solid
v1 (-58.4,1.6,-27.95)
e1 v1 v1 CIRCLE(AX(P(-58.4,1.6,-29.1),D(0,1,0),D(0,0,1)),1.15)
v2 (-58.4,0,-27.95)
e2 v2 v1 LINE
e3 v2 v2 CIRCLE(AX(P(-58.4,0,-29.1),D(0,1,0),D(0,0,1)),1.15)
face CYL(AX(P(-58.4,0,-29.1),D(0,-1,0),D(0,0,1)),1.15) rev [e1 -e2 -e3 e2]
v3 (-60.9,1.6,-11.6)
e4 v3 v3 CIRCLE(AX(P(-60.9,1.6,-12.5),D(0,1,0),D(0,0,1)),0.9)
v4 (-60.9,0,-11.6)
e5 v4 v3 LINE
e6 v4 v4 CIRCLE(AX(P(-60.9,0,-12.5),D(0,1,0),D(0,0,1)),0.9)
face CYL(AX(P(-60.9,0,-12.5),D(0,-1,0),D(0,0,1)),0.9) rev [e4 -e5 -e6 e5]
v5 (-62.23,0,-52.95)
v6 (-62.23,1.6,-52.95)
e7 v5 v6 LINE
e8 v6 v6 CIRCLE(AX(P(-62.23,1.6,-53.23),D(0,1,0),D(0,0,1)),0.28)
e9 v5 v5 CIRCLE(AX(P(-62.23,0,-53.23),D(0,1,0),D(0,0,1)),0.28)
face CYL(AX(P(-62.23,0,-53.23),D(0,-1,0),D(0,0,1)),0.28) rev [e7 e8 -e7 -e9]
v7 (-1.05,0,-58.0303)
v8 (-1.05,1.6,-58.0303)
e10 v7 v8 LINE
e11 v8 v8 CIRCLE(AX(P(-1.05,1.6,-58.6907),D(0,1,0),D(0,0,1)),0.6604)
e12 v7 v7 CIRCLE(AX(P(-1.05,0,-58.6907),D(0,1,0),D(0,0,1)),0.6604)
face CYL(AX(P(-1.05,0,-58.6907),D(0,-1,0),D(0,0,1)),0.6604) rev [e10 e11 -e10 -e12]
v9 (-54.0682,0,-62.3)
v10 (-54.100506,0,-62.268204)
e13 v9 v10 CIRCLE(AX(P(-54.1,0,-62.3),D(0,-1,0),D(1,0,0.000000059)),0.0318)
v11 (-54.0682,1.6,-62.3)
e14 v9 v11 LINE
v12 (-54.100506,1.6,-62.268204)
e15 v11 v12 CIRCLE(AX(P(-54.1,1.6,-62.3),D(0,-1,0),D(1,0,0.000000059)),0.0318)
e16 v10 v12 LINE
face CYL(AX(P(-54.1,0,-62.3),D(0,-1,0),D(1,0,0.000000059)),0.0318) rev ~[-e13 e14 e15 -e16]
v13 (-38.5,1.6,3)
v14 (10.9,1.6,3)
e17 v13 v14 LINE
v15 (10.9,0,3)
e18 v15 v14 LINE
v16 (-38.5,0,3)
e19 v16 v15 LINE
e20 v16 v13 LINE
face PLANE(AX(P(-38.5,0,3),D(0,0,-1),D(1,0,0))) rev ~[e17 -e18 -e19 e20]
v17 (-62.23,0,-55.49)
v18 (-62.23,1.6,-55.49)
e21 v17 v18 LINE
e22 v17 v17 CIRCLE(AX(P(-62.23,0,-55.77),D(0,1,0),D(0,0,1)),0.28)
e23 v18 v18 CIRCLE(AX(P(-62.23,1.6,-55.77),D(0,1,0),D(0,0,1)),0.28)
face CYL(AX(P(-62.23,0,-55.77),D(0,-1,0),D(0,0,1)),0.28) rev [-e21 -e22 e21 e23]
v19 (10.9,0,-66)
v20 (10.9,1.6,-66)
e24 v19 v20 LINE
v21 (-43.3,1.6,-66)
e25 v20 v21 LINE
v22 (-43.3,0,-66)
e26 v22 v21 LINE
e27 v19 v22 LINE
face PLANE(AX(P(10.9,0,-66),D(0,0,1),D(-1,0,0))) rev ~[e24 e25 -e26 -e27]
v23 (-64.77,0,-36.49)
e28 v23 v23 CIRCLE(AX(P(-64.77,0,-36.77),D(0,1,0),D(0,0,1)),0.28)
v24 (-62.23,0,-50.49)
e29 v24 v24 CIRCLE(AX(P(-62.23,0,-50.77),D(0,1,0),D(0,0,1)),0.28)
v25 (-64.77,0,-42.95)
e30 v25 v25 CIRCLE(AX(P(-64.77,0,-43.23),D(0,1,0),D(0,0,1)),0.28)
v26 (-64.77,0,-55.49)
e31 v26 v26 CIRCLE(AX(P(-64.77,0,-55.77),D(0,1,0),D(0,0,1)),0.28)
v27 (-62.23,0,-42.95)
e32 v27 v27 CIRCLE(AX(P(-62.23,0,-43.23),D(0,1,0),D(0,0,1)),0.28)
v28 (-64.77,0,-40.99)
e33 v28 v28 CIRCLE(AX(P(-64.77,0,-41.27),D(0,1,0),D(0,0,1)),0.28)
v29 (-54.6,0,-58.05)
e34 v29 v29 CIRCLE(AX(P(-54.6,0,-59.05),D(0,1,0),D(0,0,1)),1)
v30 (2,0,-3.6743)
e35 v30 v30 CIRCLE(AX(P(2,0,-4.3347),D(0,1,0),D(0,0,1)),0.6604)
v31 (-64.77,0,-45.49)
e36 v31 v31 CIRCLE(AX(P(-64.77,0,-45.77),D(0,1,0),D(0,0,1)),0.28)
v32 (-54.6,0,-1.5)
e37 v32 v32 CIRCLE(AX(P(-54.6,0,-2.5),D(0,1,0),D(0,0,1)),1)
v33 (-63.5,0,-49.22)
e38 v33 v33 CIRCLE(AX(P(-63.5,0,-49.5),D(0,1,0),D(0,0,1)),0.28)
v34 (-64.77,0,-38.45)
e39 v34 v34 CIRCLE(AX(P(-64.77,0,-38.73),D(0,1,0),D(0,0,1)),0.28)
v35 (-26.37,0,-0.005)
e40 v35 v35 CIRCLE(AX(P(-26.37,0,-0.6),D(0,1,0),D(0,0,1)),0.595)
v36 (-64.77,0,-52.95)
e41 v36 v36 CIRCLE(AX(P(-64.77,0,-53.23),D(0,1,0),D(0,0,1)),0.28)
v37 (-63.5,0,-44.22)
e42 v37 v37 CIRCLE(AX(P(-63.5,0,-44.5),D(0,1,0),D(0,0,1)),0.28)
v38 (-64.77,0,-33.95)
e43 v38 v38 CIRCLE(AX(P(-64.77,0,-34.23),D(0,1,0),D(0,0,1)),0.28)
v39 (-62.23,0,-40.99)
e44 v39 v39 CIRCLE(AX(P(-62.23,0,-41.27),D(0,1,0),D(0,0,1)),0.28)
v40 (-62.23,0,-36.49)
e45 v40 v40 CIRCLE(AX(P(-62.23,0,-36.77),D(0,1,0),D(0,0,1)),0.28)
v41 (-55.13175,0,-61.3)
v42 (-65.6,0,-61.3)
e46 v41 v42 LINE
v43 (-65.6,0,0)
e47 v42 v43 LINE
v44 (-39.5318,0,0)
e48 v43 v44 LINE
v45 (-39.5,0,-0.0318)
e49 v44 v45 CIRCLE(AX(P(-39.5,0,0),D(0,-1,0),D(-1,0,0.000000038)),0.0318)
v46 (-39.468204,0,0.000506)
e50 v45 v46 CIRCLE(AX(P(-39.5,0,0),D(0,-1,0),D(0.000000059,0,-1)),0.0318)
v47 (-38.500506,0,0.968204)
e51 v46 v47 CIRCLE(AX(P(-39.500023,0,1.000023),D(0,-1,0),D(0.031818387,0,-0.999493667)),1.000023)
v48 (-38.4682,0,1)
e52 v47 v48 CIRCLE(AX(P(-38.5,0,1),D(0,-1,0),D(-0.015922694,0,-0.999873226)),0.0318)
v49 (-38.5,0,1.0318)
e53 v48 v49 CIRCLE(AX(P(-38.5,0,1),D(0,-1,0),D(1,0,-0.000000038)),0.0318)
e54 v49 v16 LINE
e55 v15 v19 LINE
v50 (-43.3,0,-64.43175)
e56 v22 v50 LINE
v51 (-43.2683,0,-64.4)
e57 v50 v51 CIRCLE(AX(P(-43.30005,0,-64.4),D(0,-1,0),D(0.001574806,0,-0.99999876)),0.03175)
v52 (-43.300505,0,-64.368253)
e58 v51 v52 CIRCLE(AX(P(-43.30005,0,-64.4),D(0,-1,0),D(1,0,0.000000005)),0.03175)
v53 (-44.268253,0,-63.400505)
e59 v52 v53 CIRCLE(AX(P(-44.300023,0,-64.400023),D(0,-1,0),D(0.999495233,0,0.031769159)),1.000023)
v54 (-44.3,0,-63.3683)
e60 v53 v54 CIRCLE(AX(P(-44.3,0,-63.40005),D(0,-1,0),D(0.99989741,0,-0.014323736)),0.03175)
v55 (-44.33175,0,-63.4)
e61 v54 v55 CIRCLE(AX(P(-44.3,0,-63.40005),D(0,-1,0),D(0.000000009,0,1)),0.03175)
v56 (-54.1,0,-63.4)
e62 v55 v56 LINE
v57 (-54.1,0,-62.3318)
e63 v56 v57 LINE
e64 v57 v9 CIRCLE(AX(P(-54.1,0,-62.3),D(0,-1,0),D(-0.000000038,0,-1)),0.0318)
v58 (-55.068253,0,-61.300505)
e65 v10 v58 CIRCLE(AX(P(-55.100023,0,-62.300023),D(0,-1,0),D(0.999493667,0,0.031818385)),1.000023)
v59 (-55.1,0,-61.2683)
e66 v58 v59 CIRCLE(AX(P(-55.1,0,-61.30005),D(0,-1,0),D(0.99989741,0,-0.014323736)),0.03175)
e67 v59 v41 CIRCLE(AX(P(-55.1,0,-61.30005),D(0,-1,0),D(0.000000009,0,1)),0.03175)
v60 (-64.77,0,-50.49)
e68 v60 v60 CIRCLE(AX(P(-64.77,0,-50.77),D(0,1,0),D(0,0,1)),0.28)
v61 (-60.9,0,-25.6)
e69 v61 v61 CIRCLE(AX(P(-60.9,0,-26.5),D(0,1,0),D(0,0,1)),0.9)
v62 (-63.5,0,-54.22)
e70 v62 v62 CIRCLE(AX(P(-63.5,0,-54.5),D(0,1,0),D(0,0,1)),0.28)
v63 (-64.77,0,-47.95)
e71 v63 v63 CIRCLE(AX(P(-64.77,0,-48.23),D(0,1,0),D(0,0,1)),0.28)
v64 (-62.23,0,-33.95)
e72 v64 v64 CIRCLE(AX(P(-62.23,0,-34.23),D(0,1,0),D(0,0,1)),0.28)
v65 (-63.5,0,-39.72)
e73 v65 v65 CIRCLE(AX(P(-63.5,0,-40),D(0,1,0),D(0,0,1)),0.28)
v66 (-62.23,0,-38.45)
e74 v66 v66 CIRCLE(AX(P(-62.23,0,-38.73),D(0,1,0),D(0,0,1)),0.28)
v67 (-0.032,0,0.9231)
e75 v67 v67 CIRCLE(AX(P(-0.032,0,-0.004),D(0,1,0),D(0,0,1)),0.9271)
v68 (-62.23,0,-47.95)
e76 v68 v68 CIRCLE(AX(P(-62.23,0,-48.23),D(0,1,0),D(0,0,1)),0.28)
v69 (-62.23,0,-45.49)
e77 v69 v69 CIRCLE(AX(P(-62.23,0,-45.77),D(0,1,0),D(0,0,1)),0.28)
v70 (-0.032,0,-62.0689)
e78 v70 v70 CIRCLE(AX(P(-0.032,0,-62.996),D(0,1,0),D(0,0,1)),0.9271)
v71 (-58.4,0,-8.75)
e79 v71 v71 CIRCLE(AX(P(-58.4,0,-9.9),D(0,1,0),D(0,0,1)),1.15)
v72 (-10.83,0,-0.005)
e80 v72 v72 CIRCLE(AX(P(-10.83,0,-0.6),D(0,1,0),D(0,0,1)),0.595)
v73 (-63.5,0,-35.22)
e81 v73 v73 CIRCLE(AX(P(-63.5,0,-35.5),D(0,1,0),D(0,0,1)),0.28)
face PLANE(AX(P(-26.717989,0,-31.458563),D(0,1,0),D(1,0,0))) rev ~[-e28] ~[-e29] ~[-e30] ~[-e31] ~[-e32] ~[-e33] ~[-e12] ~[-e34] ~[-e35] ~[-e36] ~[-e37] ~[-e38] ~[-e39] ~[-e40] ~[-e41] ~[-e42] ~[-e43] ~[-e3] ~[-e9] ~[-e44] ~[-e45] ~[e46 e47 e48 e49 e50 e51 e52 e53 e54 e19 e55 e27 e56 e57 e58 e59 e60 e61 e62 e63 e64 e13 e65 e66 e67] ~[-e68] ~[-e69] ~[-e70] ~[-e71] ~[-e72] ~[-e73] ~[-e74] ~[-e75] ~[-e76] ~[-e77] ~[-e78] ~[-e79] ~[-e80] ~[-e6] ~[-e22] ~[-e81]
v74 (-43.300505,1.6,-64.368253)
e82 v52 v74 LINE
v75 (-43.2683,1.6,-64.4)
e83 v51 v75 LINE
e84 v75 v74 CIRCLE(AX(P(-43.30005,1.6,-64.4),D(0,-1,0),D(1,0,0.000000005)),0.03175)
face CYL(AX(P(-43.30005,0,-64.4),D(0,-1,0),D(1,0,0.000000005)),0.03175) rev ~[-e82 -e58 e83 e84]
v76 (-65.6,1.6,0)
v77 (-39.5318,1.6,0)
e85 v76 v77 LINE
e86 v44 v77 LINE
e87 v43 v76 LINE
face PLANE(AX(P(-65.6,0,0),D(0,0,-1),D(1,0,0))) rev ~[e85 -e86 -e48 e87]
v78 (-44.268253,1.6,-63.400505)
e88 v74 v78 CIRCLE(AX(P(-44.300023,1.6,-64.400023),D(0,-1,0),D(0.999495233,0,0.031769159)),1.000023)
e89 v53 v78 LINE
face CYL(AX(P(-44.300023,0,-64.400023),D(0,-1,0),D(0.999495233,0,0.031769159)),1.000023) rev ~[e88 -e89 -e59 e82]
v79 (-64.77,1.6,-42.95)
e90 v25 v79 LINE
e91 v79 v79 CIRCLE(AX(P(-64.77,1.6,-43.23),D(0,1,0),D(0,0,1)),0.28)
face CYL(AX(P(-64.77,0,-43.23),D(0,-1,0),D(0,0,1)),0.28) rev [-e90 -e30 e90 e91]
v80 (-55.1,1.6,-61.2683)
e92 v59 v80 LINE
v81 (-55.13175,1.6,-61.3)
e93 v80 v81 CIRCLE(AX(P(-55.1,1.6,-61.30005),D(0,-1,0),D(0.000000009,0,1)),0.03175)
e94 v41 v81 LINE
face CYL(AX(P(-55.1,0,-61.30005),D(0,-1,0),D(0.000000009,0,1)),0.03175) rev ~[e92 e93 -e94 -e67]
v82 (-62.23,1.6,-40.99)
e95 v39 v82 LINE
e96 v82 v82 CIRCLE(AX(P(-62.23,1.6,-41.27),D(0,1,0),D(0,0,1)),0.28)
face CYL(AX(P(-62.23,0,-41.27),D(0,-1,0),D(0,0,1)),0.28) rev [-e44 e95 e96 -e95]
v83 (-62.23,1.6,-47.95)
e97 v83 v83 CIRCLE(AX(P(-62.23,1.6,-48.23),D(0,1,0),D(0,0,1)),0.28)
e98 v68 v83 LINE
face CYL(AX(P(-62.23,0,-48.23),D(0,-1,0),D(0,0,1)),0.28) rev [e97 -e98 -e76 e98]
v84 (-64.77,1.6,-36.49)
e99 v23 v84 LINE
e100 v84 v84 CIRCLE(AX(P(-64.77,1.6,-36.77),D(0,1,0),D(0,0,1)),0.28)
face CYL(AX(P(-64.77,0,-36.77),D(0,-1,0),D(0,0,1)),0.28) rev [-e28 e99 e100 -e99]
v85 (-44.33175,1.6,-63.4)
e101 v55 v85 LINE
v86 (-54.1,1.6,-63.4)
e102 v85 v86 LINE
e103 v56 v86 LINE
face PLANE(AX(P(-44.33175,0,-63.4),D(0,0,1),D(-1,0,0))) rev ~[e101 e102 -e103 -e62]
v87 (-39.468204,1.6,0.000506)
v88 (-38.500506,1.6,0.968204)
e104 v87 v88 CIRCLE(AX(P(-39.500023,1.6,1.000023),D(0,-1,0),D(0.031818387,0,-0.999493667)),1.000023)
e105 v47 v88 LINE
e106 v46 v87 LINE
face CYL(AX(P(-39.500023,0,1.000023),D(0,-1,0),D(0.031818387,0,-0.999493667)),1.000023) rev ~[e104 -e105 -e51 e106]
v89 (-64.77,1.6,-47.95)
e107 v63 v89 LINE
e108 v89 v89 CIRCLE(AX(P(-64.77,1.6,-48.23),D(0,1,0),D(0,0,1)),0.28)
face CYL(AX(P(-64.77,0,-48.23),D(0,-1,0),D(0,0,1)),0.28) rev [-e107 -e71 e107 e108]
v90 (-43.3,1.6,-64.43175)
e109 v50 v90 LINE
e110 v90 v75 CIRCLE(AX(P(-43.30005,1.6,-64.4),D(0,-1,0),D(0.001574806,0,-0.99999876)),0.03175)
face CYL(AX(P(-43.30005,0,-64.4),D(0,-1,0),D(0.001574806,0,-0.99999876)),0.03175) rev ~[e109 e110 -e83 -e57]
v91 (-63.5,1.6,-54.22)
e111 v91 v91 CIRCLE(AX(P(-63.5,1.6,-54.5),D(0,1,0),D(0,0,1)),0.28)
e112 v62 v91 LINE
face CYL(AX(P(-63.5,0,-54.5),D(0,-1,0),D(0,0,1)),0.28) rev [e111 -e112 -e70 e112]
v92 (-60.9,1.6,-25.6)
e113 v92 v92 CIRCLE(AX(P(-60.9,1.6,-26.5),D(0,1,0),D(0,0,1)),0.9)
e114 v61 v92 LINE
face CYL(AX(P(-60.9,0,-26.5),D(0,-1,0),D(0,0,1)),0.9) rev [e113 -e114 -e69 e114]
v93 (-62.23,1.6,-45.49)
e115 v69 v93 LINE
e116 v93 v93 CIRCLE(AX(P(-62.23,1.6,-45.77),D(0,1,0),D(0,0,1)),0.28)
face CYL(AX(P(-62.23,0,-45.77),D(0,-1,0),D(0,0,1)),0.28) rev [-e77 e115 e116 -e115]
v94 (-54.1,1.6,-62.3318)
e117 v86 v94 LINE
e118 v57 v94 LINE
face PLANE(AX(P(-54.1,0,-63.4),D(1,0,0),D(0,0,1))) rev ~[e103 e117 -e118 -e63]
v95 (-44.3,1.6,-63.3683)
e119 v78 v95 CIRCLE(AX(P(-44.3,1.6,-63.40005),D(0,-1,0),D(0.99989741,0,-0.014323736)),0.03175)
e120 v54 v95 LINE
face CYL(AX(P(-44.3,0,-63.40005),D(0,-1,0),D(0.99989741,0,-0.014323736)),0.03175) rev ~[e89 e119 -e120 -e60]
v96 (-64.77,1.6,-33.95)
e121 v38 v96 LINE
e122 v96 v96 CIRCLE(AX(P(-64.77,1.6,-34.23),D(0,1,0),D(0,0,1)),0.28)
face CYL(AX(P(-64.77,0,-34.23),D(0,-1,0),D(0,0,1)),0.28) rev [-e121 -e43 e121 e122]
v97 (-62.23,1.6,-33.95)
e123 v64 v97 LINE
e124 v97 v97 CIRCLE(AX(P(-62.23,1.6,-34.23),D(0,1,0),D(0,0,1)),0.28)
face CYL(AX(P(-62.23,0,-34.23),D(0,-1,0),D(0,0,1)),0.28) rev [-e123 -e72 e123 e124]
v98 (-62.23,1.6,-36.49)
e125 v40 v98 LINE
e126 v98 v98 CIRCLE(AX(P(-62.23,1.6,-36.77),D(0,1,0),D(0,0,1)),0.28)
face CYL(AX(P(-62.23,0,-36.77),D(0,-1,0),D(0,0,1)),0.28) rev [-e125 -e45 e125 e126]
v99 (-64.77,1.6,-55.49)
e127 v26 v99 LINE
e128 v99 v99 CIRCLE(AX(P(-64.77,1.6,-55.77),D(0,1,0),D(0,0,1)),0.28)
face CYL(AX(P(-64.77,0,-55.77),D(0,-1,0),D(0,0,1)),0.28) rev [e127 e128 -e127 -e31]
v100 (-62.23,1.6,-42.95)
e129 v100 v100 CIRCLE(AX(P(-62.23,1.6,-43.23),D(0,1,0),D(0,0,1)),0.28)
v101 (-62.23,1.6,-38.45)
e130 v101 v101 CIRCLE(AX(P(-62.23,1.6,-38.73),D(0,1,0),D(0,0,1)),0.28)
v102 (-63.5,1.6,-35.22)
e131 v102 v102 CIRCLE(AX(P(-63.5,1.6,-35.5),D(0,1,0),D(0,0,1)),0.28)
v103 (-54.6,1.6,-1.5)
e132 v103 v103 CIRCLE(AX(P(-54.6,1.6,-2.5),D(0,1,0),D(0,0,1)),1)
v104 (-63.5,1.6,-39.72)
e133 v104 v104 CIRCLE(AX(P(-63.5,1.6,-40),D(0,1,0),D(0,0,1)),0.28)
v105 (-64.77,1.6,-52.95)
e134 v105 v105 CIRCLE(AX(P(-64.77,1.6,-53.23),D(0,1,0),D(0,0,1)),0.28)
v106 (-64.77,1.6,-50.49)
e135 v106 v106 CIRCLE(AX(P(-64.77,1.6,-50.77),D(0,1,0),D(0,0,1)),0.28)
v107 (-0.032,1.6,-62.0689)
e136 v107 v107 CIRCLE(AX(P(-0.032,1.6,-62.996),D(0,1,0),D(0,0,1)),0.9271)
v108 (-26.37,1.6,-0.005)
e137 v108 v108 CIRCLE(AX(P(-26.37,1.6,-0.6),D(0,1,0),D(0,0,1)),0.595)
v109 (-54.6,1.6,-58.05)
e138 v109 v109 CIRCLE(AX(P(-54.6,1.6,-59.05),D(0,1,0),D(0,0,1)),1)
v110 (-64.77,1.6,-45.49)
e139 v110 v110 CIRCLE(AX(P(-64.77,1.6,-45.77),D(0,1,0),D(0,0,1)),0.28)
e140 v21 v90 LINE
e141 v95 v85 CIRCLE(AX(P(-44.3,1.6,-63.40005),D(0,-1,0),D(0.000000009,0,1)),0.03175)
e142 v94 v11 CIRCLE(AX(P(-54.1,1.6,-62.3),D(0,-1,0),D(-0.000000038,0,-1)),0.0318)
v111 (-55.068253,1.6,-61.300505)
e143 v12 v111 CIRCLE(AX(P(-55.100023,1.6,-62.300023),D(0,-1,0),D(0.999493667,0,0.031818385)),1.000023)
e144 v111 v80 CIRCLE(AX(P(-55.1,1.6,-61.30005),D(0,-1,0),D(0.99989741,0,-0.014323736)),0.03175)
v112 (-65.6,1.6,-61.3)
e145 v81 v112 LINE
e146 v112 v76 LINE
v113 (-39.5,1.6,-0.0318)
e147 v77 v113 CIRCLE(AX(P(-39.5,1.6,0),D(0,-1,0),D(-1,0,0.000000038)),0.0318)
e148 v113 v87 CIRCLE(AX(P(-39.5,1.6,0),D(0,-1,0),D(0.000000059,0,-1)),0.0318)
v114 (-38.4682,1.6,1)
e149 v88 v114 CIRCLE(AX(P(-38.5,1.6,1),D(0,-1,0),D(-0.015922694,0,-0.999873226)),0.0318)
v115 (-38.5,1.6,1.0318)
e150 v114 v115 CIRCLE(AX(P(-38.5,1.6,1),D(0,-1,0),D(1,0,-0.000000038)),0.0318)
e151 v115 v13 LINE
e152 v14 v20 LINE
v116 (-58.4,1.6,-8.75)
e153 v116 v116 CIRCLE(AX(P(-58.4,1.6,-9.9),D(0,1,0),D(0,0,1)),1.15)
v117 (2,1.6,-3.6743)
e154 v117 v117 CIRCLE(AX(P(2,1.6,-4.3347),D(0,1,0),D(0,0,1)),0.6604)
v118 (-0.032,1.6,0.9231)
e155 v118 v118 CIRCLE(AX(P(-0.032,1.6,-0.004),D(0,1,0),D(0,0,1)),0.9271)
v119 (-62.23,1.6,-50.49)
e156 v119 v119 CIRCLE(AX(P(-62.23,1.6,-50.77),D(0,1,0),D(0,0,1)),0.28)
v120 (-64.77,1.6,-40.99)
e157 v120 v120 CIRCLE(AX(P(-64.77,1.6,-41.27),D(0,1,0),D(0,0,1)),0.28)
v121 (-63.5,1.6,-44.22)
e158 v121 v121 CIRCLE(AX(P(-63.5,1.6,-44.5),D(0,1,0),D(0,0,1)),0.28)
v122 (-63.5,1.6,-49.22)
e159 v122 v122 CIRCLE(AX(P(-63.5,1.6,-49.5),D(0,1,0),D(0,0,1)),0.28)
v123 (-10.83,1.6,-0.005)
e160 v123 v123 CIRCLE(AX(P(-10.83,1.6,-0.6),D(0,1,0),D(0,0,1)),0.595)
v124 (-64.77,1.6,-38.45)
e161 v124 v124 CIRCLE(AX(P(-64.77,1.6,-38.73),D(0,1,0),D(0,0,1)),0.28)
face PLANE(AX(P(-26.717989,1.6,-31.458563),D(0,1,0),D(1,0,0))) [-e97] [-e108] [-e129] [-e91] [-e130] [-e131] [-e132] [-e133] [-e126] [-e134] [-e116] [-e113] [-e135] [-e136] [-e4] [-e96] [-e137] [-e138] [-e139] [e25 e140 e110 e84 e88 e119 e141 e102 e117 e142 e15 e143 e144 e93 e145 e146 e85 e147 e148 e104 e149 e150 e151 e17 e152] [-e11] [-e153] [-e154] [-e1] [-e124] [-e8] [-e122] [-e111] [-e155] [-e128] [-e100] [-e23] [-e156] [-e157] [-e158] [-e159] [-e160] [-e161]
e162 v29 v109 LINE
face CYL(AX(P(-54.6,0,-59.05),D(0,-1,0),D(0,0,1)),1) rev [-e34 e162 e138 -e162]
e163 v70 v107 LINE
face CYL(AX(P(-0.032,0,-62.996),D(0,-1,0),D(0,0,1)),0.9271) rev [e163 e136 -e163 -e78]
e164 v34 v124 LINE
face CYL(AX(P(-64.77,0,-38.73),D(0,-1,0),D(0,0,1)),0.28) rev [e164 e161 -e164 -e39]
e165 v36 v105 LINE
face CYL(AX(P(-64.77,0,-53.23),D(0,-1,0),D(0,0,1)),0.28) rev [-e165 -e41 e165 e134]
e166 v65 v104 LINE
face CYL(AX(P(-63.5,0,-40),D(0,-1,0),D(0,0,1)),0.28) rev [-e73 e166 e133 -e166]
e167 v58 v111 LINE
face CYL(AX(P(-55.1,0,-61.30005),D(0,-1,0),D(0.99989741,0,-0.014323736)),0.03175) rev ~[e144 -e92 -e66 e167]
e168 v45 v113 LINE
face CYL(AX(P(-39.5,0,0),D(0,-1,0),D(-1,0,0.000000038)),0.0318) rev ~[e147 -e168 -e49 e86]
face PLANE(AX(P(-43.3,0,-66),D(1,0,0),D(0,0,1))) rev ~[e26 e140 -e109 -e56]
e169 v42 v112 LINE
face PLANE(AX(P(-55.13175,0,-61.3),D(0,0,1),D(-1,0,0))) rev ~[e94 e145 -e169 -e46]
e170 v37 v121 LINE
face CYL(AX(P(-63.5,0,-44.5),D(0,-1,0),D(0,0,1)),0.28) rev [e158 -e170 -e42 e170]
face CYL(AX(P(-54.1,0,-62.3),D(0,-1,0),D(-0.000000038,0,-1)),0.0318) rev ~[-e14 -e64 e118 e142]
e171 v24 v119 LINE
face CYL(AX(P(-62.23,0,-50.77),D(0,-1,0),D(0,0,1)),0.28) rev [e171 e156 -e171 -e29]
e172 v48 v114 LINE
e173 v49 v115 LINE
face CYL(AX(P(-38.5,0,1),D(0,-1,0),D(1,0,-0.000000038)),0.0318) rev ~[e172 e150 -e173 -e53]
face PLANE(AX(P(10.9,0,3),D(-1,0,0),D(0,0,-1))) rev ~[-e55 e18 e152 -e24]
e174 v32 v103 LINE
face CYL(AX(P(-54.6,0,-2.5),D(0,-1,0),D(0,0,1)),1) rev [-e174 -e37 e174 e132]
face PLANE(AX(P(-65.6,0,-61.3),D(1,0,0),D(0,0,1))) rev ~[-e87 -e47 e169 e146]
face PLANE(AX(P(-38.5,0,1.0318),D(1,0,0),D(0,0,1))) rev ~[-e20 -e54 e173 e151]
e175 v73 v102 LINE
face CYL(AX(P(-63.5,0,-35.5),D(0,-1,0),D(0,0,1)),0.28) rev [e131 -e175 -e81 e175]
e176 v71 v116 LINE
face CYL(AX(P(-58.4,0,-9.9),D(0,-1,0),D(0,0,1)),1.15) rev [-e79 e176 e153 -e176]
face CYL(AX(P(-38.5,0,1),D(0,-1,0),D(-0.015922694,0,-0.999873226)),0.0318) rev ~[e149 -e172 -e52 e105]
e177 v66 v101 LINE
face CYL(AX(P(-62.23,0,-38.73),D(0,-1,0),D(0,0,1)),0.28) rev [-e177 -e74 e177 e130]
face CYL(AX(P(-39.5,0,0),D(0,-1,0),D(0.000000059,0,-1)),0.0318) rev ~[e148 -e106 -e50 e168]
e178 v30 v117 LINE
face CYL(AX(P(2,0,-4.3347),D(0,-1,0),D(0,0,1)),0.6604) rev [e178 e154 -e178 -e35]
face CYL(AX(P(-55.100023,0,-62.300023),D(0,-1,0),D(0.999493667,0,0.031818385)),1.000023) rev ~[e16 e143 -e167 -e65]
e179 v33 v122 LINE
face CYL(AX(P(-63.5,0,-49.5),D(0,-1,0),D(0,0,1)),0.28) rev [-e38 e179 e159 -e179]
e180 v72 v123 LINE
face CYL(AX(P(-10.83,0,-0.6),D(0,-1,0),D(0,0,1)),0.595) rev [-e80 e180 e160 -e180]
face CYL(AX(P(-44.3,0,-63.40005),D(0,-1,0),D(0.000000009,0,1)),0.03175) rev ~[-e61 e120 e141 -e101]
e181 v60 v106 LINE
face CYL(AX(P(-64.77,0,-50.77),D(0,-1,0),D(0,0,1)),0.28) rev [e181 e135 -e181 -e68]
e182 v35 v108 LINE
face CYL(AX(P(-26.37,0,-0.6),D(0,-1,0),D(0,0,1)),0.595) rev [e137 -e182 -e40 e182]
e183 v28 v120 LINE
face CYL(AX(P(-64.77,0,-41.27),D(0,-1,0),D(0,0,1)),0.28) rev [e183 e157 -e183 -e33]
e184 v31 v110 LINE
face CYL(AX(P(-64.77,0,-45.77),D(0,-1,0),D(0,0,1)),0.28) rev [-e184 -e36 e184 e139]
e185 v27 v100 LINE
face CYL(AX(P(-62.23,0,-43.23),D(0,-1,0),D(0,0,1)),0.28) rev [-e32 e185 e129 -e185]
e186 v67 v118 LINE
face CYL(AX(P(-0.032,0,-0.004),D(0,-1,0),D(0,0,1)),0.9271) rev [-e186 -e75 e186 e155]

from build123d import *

# Parameters (mm, degrees)
SKETCH2_R           = 1
SKETCH2_R_2         = 1.15
SKETCH2_R_3         = 0.9
SKETCH2_R_4         = 0.595
SKETCH2_R_5         = 0.9271
SKETCH2_R_6         = 0.6604
SKETCH2_R_7         = 0.28
BOSS_EXTRUDE1_DEPTH = 1.6


with BuildPart() as part:
    # Sketch2 → Boss-Extrude1 (new body)
    with BuildSketch(Plane(origin=(0, 0, 0), x_dir=(1, 0, 0), z_dir=(0, 1, 0))):
        with BuildLine():
            Line((10.8682, -3), (10.9, -3))
            Line((10.9, -3), (10.9, -2.9682))
            Line((10.9, -2.9682), (10.9, 65.9682))
            Line((10.9, 65.9682), (10.9, 66))
            Line((10.9, 66), (10.8682, 66))
            Line((10.8682, 66), (-43.2683, 66))
            Line((-43.2683, 66), (-43.3, 66))
            Line((-43.3, 66), (-43.3, 65.9682))
            Line((-43.3, 65.9682), (-43.3, 64.431749961))
            ThreePointArc((-43.3, 64.431749961), (-43.277581689, 64.422432956), (-43.2683, 64.4))
            ThreePointArc((-43.2683, 64.4), (-43.277760728, 64.377389143), (-43.300504779, 64.368253257))
            ThreePointArc((-43.300504779, 64.368253257), (-43.5929, 63.6929), (-44.268253257, 63.400504779))
            ThreePointArc((-44.268253257, 63.400504779), (-44.277389143, 63.377760728), (-44.3, 63.3683))
            ThreePointArc((-44.3, 63.3683), (-44.322432956, 63.377581689), (-44.331749961, 63.4))
            Line((-44.331749961, 63.4), (-54.0682, 63.4))
            Line((-54.0682, 63.4), (-54.1, 63.4))
            Line((-54.1, 63.4), (-54.1, 63.3683))
            Line((-54.1, 63.3683), (-54.1, 62.3318))
            ThreePointArc((-54.1, 62.3318), (-54.077514004, 62.322485996), (-54.0682, 62.3))
            ThreePointArc((-54.0682, 62.3), (-54.077693743, 62.277335692), (-54.100506344, 62.268204031))
            ThreePointArc((-54.100506344, 62.268204031), (-54.392917413, 61.592882587), (-55.068253257, 61.300504779))
            ThreePointArc((-55.068253257, 61.300504779), (-55.077389143, 61.277760728), (-55.1, 61.2683))
            ThreePointArc((-55.1, 61.2683), (-55.122432956, 61.277581689), (-55.131749961, 61.3))
            Line((-55.131749961, 61.3), (-65.5683, 61.3))
            Line((-65.5683, 61.3), (-65.6, 61.3))
            Line((-65.6, 61.3), (-65.6, 61.2683))
            Line((-65.6, 61.2683), (-65.6, 0.0318))
            Line((-65.6, 0.0318), (-65.6, 0))
            Line((-65.6, 0), (-65.5683, 0))
            Line((-65.5683, 0), (-39.5318, 0))
            ThreePointArc((-39.5318, 0), (-39.522485996, 0.022485996), (-39.5, 0.0318))
            ThreePointArc((-39.5, 0.0318), (-39.477335692, 0.022306257), (-39.468204031, -0.000506344))
            ThreePointArc((-39.468204031, -0.000506344), (-38.7929, -0.2929), (-38.500506344, -0.968204031))
            ThreePointArc((-38.500506344, -0.968204031), (-38.477693743, -0.977335692), (-38.4682, -1))
            ThreePointArc((-38.4682, -1), (-38.477514004, -1.022485996), (-38.5, -1.0318))
            Line((-38.5, -1.0318), (-38.5, -2.9682))
            Line((-38.5, -2.9682), (-38.5, -3))
            Line((-38.5, -3), (-38.4682, -3))
            Line((-38.4682, -3), (10.8682, -3))
        make_face()
        with Locations(Location((-54.6, 2.5, 0), (0, 0, 270))):
            Circle(SKETCH2_R, mode=Mode.SUBTRACT)
        with Locations(Location((-58.4, 9.9, 0), (0, 0, 270))):
            Circle(SKETCH2_R_2, mode=Mode.SUBTRACT)
        with Locations(Location((-60.9, 12.5, 0), (0, 0, 270))):
            Circle(SKETCH2_R_3, mode=Mode.SUBTRACT)
        with Locations(Location((-60.9, 26.5, 0), (0, 0, 270))):
            Circle(SKETCH2_R_3, mode=Mode.SUBTRACT)
        with Locations(Location((-58.4, 29.1, 0), (0, 0, 270))):
            Circle(SKETCH2_R_2, mode=Mode.SUBTRACT)
        with Locations(Location((-26.37, 0.6, 0), (0, 0, 270))):
            Circle(SKETCH2_R_4, mode=Mode.SUBTRACT)
        with Locations(Location((-10.83, 0.6, 0), (0, 0, 270))):
            Circle(SKETCH2_R_4, mode=Mode.SUBTRACT)
        with Locations(Location((-0.032, 0.004, 0), (0, 0, 270))):
            Circle(SKETCH2_R_5, mode=Mode.SUBTRACT)
        with Locations(Location((2, 4.3347, 0), (0, 0, 270))):
            Circle(SKETCH2_R_6, mode=Mode.SUBTRACT)
        with Locations(Location((-64.77, 34.23, 0), (0, 0, 270))):
            Circle(SKETCH2_R_7, mode=Mode.SUBTRACT)
        with Locations(Location((-63.5, 35.5, 0), (0, 0, 270))):
            Circle(SKETCH2_R_7, mode=Mode.SUBTRACT)
        with Locations(Location((-62.23, 34.23, 0), (0, 0, 270))):
            Circle(SKETCH2_R_7, mode=Mode.SUBTRACT)
        with Locations(Location((-64.77, 36.77, 0), (0, 0, 270))):
            Circle(SKETCH2_R_7, mode=Mode.SUBTRACT)
        with Locations(Location((-62.23, 36.77, 0), (0, 0, 270))):
            Circle(SKETCH2_R_7, mode=Mode.SUBTRACT)
        with Locations(Location((-64.77, 38.73, 0), (0, 0, 270))):
            Circle(SKETCH2_R_7, mode=Mode.SUBTRACT)
        with Locations(Location((-63.5, 40, 0), (0, 0, 270))):
            Circle(SKETCH2_R_7, mode=Mode.SUBTRACT)
        with Locations(Location((-62.23, 38.73, 0), (0, 0, 270))):
            Circle(SKETCH2_R_7, mode=Mode.SUBTRACT)
        with Locations(Location((-64.77, 41.27, 0), (0, 0, 270))):
            Circle(SKETCH2_R_7, mode=Mode.SUBTRACT)
        with Locations(Location((-62.23, 41.27, 0), (0, 0, 270))):
            Circle(SKETCH2_R_7, mode=Mode.SUBTRACT)
        with Locations(Location((-64.77, 43.23, 0), (0, 0, 270))):
            Circle(SKETCH2_R_7, mode=Mode.SUBTRACT)
        with Locations(Location((-62.23, 43.23, 0), (0, 0, 270))):
            Circle(SKETCH2_R_7, mode=Mode.SUBTRACT)
        with Locations(Location((-63.5, 44.5, 0), (0, 0, 270))):
            Circle(SKETCH2_R_7, mode=Mode.SUBTRACT)
        with Locations(Location((-64.77, 45.77, 0), (0, 0, 270))):
            Circle(SKETCH2_R_7, mode=Mode.SUBTRACT)
        with Locations(Location((-62.23, 45.77, 0), (0, 0, 270))):
            Circle(SKETCH2_R_7, mode=Mode.SUBTRACT)
        with Locations(Location((-64.77, 48.23, 0), (0, 0, 270))):
            Circle(SKETCH2_R_7, mode=Mode.SUBTRACT)
        with Locations(Location((-62.23, 48.23, 0), (0, 0, 270))):
            Circle(SKETCH2_R_7, mode=Mode.SUBTRACT)
        with Locations(Location((-63.5, 49.5, 0), (0, 0, 270))):
            Circle(SKETCH2_R_7, mode=Mode.SUBTRACT)
        with Locations(Location((-64.77, 50.77, 0), (0, 0, 270))):
            Circle(SKETCH2_R_7, mode=Mode.SUBTRACT)
        with Locations(Location((-62.23, 50.77, 0), (0, 0, 270))):
            Circle(SKETCH2_R_7, mode=Mode.SUBTRACT)
        with Locations(Location((-64.77, 53.23, 0), (0, 0, 270))):
            Circle(SKETCH2_R_7, mode=Mode.SUBTRACT)
        with Locations(Location((-63.5, 54.5, 0), (0, 0, 270))):
            Circle(SKETCH2_R_7, mode=Mode.SUBTRACT)
        with Locations(Location((-62.23, 53.23, 0), (0, 0, 270))):
            Circle(SKETCH2_R_7, mode=Mode.SUBTRACT)
        with Locations(Location((-64.77, 55.77, 0), (0, 0, 270))):
            Circle(SKETCH2_R_7, mode=Mode.SUBTRACT)
        with Locations(Location((-62.23, 55.77, 0), (0, 0, 270))):
            Circle(SKETCH2_R_7, mode=Mode.SUBTRACT)
        with Locations(Location((-54.6, 59.05, 0), (0, 0, 270))):
            Circle(SKETCH2_R, mode=Mode.SUBTRACT)
        with Locations(Location((-1.05, 58.6907, 0), (0, 0, 270))):
            Circle(SKETCH2_R_6, mode=Mode.SUBTRACT)
        with Locations(Location((-0.032, 62.996, 0), (0, 0, 270))):
            Circle(SKETCH2_R_5, mode=Mode.SUBTRACT)
    extrude(amount=BOSS_EXTRUDE1_DEPTH)


solid = part.part
